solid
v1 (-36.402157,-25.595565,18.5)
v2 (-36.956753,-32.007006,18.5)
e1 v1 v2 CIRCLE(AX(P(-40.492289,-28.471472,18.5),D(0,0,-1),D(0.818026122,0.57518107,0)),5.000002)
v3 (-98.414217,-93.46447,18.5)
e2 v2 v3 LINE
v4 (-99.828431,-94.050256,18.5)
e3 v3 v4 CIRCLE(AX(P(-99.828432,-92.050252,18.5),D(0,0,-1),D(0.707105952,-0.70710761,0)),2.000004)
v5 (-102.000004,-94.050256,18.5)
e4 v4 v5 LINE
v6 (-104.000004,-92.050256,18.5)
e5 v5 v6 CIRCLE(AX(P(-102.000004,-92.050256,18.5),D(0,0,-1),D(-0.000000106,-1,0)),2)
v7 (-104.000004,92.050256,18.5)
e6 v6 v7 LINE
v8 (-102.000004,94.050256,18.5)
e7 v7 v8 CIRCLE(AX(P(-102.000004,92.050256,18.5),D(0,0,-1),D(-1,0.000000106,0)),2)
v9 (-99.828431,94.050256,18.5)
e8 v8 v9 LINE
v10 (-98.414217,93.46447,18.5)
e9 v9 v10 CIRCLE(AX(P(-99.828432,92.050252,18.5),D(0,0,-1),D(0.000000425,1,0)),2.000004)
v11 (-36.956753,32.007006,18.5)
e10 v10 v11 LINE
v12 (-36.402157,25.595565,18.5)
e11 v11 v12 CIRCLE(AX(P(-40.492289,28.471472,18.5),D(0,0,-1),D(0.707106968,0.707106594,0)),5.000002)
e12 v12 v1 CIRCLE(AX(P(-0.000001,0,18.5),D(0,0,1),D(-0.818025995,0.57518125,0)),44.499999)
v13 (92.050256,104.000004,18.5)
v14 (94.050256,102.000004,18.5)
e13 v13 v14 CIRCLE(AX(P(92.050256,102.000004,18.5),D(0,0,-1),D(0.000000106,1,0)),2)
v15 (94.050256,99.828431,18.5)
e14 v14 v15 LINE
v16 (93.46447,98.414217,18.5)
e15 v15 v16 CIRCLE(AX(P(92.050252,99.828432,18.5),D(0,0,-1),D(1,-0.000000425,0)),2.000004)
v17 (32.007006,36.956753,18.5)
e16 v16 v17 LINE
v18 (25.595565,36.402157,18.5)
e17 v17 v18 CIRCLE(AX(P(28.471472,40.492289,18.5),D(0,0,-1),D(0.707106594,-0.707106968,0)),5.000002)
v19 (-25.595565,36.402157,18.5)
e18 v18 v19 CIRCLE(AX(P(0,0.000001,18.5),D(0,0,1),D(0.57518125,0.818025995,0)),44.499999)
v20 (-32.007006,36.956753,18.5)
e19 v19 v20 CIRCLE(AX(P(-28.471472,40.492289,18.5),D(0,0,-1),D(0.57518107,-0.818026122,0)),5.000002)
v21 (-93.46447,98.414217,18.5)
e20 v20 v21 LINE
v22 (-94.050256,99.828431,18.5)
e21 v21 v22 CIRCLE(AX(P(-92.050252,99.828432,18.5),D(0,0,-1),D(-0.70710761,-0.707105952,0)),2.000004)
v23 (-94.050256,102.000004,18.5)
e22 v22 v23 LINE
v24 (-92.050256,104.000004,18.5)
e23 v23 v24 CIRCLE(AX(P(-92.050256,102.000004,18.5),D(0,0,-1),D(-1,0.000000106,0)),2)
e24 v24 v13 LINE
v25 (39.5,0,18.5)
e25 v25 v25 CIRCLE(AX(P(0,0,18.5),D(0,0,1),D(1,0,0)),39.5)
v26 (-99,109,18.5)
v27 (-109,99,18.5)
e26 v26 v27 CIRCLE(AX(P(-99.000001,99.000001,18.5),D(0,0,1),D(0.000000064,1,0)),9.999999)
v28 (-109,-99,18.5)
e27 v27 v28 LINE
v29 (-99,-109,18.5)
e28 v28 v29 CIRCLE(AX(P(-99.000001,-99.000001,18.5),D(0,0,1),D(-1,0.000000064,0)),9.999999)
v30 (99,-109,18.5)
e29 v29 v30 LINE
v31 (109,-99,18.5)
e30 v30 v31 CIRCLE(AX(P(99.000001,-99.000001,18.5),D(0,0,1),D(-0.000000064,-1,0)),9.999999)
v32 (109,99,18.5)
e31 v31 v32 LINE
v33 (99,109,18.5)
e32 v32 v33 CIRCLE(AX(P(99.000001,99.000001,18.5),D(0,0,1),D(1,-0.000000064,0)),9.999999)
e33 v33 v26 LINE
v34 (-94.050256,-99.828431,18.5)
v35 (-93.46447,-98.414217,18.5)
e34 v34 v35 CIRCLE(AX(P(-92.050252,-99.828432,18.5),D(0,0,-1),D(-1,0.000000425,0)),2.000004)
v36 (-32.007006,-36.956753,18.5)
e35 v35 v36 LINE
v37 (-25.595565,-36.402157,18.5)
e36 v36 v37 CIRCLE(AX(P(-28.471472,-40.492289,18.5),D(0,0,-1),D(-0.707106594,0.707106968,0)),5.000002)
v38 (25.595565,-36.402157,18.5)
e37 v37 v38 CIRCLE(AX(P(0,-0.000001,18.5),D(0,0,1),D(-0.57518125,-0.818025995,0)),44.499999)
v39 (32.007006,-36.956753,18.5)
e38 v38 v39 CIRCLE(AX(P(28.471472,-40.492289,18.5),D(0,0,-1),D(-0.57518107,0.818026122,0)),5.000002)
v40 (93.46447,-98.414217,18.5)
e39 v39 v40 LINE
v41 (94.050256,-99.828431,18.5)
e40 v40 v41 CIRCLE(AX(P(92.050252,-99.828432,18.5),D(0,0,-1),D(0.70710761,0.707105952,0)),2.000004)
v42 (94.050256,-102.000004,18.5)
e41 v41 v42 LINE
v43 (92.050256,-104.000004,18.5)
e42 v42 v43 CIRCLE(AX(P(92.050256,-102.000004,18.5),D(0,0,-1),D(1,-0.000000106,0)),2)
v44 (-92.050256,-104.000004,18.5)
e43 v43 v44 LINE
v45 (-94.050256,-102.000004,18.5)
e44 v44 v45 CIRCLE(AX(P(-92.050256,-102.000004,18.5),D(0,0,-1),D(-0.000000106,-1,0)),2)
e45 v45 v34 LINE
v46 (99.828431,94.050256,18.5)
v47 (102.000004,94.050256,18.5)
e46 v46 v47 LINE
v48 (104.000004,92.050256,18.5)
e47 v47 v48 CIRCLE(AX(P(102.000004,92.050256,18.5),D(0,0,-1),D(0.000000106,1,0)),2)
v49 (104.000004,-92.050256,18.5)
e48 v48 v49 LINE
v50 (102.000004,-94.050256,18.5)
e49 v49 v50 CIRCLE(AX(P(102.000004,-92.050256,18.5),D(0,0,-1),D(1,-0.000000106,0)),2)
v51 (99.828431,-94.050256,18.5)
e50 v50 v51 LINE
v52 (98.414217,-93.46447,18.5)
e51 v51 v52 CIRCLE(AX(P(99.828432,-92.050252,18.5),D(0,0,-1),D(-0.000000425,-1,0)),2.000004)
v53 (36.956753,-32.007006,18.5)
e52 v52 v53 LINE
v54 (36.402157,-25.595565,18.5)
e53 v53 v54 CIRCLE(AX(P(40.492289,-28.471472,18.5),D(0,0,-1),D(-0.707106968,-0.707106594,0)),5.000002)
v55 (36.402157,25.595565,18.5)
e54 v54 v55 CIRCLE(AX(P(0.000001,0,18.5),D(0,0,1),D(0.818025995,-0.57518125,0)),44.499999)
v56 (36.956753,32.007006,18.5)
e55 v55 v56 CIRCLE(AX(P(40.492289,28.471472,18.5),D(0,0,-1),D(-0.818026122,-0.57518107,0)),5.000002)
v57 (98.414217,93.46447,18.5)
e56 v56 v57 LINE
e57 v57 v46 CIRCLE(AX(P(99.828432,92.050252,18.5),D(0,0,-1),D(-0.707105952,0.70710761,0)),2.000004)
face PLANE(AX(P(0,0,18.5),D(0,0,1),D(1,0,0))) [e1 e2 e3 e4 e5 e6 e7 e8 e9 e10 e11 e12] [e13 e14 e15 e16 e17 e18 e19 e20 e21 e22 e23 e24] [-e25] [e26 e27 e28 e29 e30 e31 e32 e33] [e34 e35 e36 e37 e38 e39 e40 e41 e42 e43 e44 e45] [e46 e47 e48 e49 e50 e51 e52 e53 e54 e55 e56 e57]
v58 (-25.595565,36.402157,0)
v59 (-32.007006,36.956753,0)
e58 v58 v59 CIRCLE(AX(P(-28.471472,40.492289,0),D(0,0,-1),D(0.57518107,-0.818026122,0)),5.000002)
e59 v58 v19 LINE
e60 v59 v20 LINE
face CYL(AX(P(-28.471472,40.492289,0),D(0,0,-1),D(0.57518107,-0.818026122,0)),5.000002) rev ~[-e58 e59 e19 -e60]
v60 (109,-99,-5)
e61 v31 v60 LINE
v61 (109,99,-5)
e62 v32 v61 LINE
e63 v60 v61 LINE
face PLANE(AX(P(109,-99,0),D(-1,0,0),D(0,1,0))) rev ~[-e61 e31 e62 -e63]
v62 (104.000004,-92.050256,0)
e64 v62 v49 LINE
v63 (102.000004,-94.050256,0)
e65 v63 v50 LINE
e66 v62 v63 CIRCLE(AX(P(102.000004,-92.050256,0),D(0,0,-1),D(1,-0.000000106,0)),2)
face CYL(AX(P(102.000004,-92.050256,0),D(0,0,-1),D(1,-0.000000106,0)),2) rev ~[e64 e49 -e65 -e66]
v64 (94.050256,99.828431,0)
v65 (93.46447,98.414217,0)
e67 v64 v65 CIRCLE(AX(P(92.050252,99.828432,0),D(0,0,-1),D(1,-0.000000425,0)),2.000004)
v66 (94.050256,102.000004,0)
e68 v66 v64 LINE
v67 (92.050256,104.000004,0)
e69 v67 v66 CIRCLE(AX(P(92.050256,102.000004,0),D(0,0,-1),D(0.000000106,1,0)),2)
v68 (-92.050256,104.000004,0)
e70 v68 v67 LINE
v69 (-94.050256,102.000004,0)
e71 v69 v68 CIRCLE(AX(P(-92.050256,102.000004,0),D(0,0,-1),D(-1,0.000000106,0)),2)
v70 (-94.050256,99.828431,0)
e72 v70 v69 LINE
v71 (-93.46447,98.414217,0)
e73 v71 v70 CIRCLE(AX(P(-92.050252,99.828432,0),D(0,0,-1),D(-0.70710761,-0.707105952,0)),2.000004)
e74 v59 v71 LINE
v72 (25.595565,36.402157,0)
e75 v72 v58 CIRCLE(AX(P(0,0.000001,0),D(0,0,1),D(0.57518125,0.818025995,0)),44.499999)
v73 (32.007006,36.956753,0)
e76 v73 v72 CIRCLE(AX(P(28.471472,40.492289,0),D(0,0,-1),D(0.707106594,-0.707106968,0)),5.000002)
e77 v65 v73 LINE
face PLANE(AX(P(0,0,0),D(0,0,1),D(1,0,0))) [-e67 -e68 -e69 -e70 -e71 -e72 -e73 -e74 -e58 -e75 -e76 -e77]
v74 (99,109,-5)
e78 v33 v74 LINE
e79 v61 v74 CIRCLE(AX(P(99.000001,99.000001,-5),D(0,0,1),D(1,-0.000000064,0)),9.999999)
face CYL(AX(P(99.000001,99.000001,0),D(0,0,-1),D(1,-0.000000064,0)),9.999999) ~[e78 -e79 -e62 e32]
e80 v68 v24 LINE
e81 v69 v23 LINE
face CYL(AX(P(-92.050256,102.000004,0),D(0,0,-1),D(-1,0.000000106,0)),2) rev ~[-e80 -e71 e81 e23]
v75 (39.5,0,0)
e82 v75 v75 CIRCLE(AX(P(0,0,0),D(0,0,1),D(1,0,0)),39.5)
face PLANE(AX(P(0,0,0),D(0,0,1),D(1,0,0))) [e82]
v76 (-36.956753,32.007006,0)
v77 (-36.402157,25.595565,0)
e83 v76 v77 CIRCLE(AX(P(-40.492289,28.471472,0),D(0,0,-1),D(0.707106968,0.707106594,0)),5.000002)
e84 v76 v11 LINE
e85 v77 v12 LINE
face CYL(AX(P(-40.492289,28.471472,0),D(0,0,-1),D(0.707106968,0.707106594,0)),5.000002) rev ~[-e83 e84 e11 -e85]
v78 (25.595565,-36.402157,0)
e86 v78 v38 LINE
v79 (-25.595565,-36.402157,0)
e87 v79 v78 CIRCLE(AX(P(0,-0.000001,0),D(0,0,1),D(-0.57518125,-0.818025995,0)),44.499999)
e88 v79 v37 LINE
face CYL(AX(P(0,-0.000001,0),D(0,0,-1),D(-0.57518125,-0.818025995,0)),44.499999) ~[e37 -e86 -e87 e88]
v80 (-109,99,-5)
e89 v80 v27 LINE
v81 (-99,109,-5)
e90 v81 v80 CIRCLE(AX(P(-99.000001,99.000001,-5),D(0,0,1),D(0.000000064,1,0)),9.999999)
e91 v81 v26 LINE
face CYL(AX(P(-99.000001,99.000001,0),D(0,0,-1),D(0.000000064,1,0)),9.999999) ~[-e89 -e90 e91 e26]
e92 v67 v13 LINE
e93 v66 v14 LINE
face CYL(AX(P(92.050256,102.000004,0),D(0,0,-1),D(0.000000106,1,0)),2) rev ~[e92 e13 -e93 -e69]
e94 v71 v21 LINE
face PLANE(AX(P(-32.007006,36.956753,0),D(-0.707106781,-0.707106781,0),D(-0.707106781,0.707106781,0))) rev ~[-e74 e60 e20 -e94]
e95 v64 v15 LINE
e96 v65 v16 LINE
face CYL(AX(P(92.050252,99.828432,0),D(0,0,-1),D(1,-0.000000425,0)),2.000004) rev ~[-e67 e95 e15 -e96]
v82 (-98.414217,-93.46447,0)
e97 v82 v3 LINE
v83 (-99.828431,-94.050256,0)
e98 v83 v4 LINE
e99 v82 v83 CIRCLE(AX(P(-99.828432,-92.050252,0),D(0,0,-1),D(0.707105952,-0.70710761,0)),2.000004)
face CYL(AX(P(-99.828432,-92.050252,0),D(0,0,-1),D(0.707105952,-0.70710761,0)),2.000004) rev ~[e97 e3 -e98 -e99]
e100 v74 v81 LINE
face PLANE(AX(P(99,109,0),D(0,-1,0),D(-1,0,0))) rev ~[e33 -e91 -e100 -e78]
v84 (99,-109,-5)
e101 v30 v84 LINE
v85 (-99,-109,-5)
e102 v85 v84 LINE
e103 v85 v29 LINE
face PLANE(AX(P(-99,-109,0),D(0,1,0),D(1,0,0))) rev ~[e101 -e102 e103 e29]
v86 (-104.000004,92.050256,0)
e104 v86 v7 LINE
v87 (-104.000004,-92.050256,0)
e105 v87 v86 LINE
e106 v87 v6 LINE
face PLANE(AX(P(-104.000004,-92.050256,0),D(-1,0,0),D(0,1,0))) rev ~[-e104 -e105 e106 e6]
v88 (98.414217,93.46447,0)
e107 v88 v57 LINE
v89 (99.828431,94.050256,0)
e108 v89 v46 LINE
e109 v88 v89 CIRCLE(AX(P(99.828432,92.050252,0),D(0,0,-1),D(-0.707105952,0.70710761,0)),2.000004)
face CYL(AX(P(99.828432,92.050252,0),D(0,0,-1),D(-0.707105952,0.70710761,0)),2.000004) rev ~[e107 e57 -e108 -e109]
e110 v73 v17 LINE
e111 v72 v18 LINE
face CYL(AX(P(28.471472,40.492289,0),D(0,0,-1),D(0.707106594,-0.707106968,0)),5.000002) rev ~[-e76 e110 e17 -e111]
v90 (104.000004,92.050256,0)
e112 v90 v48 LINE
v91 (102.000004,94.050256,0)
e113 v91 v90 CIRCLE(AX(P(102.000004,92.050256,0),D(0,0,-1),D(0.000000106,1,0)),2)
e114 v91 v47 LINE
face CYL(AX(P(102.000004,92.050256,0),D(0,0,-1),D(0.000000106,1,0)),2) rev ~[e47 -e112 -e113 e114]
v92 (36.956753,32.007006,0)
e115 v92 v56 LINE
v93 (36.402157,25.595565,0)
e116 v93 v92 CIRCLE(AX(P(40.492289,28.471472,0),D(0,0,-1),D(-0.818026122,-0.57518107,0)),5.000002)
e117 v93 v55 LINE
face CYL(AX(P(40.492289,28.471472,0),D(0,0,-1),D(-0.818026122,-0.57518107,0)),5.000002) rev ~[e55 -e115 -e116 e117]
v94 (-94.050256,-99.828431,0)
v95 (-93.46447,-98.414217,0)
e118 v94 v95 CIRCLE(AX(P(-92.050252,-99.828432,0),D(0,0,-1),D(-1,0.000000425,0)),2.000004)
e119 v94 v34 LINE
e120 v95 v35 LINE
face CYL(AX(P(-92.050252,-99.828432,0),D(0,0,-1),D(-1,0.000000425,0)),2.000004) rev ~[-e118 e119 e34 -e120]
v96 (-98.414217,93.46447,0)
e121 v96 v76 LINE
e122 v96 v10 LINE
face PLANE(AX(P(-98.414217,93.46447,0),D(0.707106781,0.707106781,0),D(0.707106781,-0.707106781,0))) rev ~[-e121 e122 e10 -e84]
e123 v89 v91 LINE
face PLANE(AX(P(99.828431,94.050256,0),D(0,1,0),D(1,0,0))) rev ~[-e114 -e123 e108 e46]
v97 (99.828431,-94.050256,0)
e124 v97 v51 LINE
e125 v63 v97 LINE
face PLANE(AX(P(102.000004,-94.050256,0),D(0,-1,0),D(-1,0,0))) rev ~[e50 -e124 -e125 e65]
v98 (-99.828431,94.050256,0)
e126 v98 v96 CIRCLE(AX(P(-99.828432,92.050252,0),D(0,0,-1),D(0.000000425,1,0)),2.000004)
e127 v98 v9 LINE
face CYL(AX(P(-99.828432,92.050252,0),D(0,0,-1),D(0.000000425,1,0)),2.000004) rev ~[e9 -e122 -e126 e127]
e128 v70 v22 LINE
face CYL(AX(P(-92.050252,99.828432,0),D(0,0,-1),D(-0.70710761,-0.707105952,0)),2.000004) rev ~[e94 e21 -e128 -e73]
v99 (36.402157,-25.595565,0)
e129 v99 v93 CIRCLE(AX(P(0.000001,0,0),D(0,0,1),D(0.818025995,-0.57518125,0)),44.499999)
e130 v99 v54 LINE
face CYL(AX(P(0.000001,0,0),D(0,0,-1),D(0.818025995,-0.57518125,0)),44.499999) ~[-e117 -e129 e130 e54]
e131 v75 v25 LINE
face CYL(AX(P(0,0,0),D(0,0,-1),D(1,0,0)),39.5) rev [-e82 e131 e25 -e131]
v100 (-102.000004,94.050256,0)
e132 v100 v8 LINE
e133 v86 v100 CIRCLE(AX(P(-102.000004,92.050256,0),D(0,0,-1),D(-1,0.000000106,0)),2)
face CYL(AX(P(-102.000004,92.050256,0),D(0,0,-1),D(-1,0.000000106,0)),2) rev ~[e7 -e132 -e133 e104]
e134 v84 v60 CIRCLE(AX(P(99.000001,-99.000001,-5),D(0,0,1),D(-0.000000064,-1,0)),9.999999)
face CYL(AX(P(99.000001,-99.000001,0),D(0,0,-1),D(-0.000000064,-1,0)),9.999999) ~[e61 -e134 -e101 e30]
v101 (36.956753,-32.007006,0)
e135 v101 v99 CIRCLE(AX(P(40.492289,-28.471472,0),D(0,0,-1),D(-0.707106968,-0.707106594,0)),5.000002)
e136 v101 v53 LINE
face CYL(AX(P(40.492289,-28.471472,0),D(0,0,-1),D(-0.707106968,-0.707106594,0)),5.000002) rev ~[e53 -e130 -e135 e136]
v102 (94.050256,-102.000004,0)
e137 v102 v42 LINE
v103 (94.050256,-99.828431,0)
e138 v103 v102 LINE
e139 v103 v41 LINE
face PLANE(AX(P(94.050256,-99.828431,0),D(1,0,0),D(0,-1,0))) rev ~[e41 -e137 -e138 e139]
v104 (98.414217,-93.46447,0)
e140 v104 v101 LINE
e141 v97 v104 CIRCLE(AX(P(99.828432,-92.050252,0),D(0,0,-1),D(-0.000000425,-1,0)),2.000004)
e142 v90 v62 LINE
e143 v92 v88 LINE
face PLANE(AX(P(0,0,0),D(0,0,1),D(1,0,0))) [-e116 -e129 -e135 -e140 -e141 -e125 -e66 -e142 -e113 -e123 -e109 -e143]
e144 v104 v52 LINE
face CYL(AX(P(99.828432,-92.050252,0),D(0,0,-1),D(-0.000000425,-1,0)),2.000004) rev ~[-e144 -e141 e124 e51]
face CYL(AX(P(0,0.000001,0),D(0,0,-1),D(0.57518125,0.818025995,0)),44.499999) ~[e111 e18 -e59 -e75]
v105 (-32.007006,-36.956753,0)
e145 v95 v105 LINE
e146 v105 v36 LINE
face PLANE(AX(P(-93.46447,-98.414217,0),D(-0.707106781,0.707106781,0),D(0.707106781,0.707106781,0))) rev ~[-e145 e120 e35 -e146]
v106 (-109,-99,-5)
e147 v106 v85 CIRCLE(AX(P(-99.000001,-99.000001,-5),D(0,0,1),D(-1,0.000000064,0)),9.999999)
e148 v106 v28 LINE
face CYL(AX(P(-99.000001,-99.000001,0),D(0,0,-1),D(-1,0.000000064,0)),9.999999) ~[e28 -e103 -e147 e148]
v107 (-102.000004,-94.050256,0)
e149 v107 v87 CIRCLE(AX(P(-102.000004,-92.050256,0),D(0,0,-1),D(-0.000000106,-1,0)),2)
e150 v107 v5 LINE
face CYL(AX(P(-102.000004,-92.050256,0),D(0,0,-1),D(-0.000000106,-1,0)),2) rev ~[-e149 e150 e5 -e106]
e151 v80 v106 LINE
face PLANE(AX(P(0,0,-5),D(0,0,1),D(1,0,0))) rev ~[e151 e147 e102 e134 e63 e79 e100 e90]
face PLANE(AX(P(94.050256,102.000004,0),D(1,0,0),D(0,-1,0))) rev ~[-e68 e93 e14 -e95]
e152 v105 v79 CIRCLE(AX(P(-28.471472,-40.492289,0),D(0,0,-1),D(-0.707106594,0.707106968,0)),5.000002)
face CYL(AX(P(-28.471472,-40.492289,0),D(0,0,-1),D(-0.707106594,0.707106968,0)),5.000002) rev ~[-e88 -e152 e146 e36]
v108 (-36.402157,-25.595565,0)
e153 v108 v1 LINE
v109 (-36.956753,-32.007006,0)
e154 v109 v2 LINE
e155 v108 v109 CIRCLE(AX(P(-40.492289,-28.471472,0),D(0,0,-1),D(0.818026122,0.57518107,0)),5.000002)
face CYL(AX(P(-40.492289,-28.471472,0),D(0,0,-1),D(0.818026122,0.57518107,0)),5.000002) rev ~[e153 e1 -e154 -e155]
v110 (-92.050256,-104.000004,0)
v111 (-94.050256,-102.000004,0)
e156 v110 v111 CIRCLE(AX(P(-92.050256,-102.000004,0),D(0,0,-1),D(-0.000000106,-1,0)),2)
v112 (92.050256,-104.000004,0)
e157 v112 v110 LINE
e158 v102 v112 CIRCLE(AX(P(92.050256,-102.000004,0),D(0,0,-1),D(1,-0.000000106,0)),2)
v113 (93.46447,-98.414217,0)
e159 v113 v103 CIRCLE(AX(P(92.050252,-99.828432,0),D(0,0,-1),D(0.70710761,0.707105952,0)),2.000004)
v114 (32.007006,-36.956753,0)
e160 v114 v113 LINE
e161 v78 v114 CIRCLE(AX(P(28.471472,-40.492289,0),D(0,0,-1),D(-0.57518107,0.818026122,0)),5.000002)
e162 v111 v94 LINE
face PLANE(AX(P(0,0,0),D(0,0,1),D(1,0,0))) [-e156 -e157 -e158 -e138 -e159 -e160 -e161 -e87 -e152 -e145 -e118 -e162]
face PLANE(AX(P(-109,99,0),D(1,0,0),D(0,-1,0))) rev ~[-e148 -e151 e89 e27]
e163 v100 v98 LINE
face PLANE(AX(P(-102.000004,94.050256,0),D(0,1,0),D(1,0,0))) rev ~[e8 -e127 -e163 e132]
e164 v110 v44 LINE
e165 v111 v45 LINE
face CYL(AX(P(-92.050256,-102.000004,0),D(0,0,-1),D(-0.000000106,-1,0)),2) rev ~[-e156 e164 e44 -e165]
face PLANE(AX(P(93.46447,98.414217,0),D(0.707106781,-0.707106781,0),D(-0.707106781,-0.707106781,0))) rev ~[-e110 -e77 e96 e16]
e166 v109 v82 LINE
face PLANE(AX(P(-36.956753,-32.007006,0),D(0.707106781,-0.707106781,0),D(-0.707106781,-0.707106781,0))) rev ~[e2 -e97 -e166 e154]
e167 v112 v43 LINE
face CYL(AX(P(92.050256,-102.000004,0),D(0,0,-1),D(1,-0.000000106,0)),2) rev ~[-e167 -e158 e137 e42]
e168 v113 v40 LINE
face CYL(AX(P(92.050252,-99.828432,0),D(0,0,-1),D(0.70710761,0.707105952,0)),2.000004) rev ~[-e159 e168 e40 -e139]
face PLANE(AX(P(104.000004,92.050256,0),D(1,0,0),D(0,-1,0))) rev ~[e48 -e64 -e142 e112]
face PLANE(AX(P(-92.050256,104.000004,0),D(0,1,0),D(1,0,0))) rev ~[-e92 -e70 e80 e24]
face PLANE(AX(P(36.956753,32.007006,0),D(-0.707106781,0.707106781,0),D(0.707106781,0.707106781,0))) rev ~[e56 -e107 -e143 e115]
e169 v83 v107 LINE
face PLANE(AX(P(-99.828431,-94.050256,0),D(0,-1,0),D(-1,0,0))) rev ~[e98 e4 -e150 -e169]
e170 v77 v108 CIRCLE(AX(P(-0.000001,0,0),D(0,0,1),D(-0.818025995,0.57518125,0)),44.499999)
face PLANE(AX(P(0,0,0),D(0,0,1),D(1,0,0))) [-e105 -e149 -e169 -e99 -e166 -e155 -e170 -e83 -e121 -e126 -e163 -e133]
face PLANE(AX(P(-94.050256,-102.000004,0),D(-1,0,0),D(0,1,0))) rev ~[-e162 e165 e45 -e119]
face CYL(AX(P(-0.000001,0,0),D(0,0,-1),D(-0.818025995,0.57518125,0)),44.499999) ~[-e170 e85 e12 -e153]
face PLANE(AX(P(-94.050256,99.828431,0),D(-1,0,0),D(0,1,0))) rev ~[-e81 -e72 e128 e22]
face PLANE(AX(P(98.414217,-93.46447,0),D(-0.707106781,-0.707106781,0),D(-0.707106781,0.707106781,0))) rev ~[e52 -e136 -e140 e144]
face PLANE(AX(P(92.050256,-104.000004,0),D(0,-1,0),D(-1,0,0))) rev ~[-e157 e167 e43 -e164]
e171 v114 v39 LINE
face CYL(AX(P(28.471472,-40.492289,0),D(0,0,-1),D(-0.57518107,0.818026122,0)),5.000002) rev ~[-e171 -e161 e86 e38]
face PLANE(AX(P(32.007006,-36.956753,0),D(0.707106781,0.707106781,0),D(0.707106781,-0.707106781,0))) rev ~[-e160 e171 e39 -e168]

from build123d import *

# Parameters (mm, degrees)
F0_R     = 39.5
F1_DEPTH = 5
F2_DEPTH = 18.5


with BuildPart() as f1:
    # F0 (on Top) → F1 (new body)
    with BuildSketch(Plane.XY):
        with BuildLine():
            Line((99, 109), (-99, 109))
            ThreePointArc((-99, 109), (-106.071068, 106.071068), (-109, 99))
            Line((-109, 99), (-109, -99))
            ThreePointArc((-109, -99), (-106.071068, -106.071068), (-99, -109))
            Line((-99, -109), (99, -109))
            ThreePointArc((99, -109), (106.071068, -106.071068), (109, -99))
            Line((109, -99), (109, 99))
            ThreePointArc((109, 99), (106.071068, 106.071068), (99, 109))
        make_face()
        with BuildLine():
            Line((-60.861436, -104.000004), (-92.050256, -104.000004))
            ThreePointArc((-92.050256, -104.000004), (-93.46447, -103.414217), (-94.050256, -102.000004))
            Line((-94.050256, -102.000004), (-94.050256, -99.828431))
            ThreePointArc((-94.050256, -99.828431), (-93.898015, -99.063064), (-93.46447, -98.414217))
            Line((-93.46447, -98.414217), (-32.007006, -36.956753))
            ThreePointArc((-32.007006, -36.956753), (-28.902368, -35.510889), (-25.595565, -36.402157))
            ThreePointArc((-25.595565, -36.402157), (0, -44.5), (25.595565, -36.402157))
            ThreePointArc((25.595565, -36.402157), (28.902368, -35.510889), (32.007006, -36.956753))
            Line((32.007006, -36.956753), (93.46447, -98.414217))
            ThreePointArc((93.46447, -98.414217), (93.898015, -99.063064), (94.050256, -99.828431))
            Line((94.050256, -99.828431), (94.050256, -102.000004))
            ThreePointArc((94.050256, -102.000004), (93.46447, -103.414217), (92.050256, -104.000004))
            Line((92.050256, -104.000004), (60.861436, -104.000004))
            Line((60.861436, -104.000004), (45.861436, -104.000004))
            Line((45.861436, -104.000004), (-45.861436, -104.000004))
            Line((-45.861436, -104.000004), (-60.861436, -104.000004))
        make_face(mode=Mode.SUBTRACT)
        with BuildLine():
            Line((-104.000004, 60.861436), (-104.000004, 92.050256))
            ThreePointArc((-104.000004, 92.050256), (-103.414217, 93.46447), (-102.000004, 94.050256))
            Line((-102.000004, 94.050256), (-99.828431, 94.050256))
            ThreePointArc((-99.828431, 94.050256), (-99.063064, 93.898015), (-98.414217, 93.46447))
            Line((-98.414217, 93.46447), (-36.956753, 32.007006))
            ThreePointArc((-36.956753, 32.007006), (-35.510889, 28.902368), (-36.402157, 25.595565))
            ThreePointArc((-36.402157, 25.595565), (-44.5, 0), (-36.402157, -25.595565))
            ThreePointArc((-36.402157, -25.595565), (-35.510889, -28.902368), (-36.956753, -32.007006))
            Line((-36.956753, -32.007006), (-98.414217, -93.46447))
            ThreePointArc((-98.414217, -93.46447), (-99.063064, -93.898015), (-99.828431, -94.050256))
            Line((-99.828431, -94.050256), (-102.000004, -94.050256))
            ThreePointArc((-102.000004, -94.050256), (-103.414217, -93.46447), (-104.000004, -92.050256))
            Line((-104.000004, -92.050256), (-104.000004, -60.861436))
            Line((-104.000004, -60.861436), (-104.000004, -45.861436))
            Line((-104.000004, -45.861436), (-104.000004, 45.861436))
            Line((-104.000004, 45.861436), (-104.000004, 60.861436))
        make_face(mode=Mode.SUBTRACT)
        with BuildLine():
            ThreePointArc((-94.050256, 102.000004), (-93.46447, 103.414217), (-92.050256, 104.000004))
            Line((-92.050256, 104.000004), (-60.861436, 104.000004))
            Line((-60.861436, 104.000004), (-45.861436, 104.000004))
            Line((-45.861436, 104.000004), (45.861436, 104.000004))
            Line((45.861436, 104.000004), (60.861436, 104.000004))
            Line((60.861436, 104.000004), (92.050256, 104.000004))
            ThreePointArc((92.050256, 104.000004), (93.46447, 103.414217), (94.050256, 102.000004))
            Line((94.050256, 102.000004), (94.050256, 99.828431))
            ThreePointArc((94.050256, 99.828431), (93.898015, 99.063064), (93.46447, 98.414217))
            Line((93.46447, 98.414217), (32.007006, 36.956753))
            ThreePointArc((32.007006, 36.956753), (28.902368, 35.510889), (25.595565, 36.402157))
            ThreePointArc((25.595565, 36.402157), (0, 44.5), (-25.595565, 36.402157))
            ThreePointArc((-25.595565, 36.402157), (-28.902368, 35.510889), (-32.007006, 36.956753))
            Line((-32.007006, 36.956753), (-93.46447, 98.414217))
            ThreePointArc((-93.46447, 98.414217), (-93.898015, 99.063064), (-94.050256, 99.828431))
            Line((-94.050256, 99.828431), (-94.050256, 102.000004))
        make_face(mode=Mode.SUBTRACT)
        Circle(F0_R, mode=Mode.SUBTRACT)
        with BuildLine():
            ThreePointArc((102.000004, 94.050256), (103.414217, 93.46447), (104.000004, 92.050256))
            Line((104.000004, 92.050256), (104.000004, 60.861436))
            Line((104.000004, 60.861436), (104.000004, 45.861436))
            Line((104.000004, 45.861436), (104.000004, -45.861436))
            Line((104.000004, -45.861436), (104.000004, -60.861436))
            Line((104.000004, -60.861436), (104.000004, -92.050256))
            ThreePointArc((104.000004, -92.050256), (103.414217, -93.46447), (102.000004, -94.050256))
            Line((102.000004, -94.050256), (99.828431, -94.050256))
            ThreePointArc((99.828431, -94.050256), (99.063064, -93.898015), (98.414217, -93.46447))
            Line((98.414217, -93.46447), (36.956753, -32.007006))
            ThreePointArc((36.956753, -32.007006), (35.510889, -28.902368), (36.402157, -25.595565))
            ThreePointArc((36.402157, -25.595565), (44.5, 0), (36.402157, 25.595565))
            ThreePointArc((36.402157, 25.595565), (35.510889, 28.902368), (36.956753, 32.007006))
            Line((36.956753, 32.007006), (98.414217, 93.46447))
            ThreePointArc((98.414217, 93.46447), (99.063064, 93.898015), (99.828431, 94.050256))
            Line((99.828431, 94.050256), (102.000004, 94.050256))
        make_face(mode=Mode.SUBTRACT)
        with BuildLine():
            ThreePointArc((-102.000004, 94.050256), (-103.414217, 93.46447), (-104.000004, 92.050256))
            Line((-104.000004, 92.050256), (-104.000004, 60.861436))
            Line((-104.000004, 60.861436), (-104.000004, 45.861436))
            Line((-104.000004, 45.861436), (-104.000004, -45.861436))
            Line((-104.000004, -45.861436), (-104.000004, -60.861436))
            Line((-104.000004, -60.861436), (-104.000004, -92.050256))
            ThreePointArc((-104.000004, -92.050256), (-103.414217, -93.46447), (-102.000004, -94.050256))
            Line((-102.000004, -94.050256), (-99.828431, -94.050256))
            ThreePointArc((-99.828431, -94.050256), (-99.063064, -93.898015), (-98.414217, -93.46447))
            Line((-98.414217, -93.46447), (-36.956753, -32.007006))
            ThreePointArc((-36.956753, -32.007006), (-35.510889, -28.902368), (-36.402157, -25.595565))
            ThreePointArc((-36.402157, -25.595565), (-44.5, 0), (-36.402157, 25.595565))
            ThreePointArc((-36.402157, 25.595565), (-35.510889, 28.902368), (-36.956753, 32.007006))
            Line((-36.956753, 32.007006), (-98.414217, 93.46447))
            ThreePointArc((-98.414217, 93.46447), (-99.063064, 93.898015), (-99.828431, 94.050256))
            Line((-99.828431, 94.050256), (-102.000004, 94.050256))
        make_face()
        with BuildLine():
            Line((-60.861436, 104.000004), (-92.050256, 104.000004))
            ThreePointArc((-92.050256, 104.000004), (-93.46447, 103.414217), (-94.050256, 102.000004))
            Line((-94.050256, 102.000004), (-94.050256, 99.828431))
            ThreePointArc((-94.050256, 99.828431), (-93.898015, 99.063064), (-93.46447, 98.414217))
            Line((-93.46447, 98.414217), (-32.007006, 36.956753))
            ThreePointArc((-32.007006, 36.956753), (-28.902368, 35.510889), (-25.595565, 36.402157))
            ThreePointArc((-25.595565, 36.402157), (0, 44.5), (25.595565, 36.402157))
            ThreePointArc((25.595565, 36.402157), (28.902368, 35.510889), (32.007006, 36.956753))
            Line((32.007006, 36.956753), (93.46447, 98.414217))
            ThreePointArc((93.46447, 98.414217), (93.898015, 99.063064), (94.050256, 99.828431))
            Line((94.050256, 99.828431), (94.050256, 102.000004))
            ThreePointArc((94.050256, 102.000004), (93.46447, 103.414217), (92.050256, 104.000004))
            Line((92.050256, 104.000004), (60.861436, 104.000004))
            Line((60.861436, 104.000004), (45.861436, 104.000004))
            Line((45.861436, 104.000004), (-45.861436, 104.000004))
            Line((-45.861436, 104.000004), (-60.861436, 104.000004))
        make_face()
        Circle(F0_R)
        with BuildLine():
            Line((104.000004, 60.861436), (104.000004, 92.050256))
            ThreePointArc((104.000004, 92.050256), (103.414217, 93.46447), (102.000004, 94.050256))
            Line((102.000004, 94.050256), (99.828431, 94.050256))
            ThreePointArc((99.828431, 94.050256), (99.063064, 93.898015), (98.414217, 93.46447))
            Line((98.414217, 93.46447), (36.956753, 32.007006))
            ThreePointArc((36.956753, 32.007006), (35.510889, 28.902368), (36.402157, 25.595565))
            ThreePointArc((36.402157, 25.595565), (44.5, 0), (36.402157, -25.595565))
            ThreePointArc((36.402157, -25.595565), (35.510889, -28.902368), (36.956753, -32.007006))
            Line((36.956753, -32.007006), (98.414217, -93.46447))
            ThreePointArc((98.414217, -93.46447), (99.063064, -93.898015), (99.828431, -94.050256))
            Line((99.828431, -94.050256), (102.000004, -94.050256))
            ThreePointArc((102.000004, -94.050256), (103.414217, -93.46447), (104.000004, -92.050256))
            Line((104.000004, -92.050256), (104.000004, -60.861436))
            Line((104.000004, -60.861436), (104.000004, -45.861436))
            Line((104.000004, -45.861436), (104.000004, 45.861436))
            Line((104.000004, 45.861436), (104.000004, 60.861436))
        make_face()
        with BuildLine():
            ThreePointArc((-94.050256, -102.000004), (-93.46447, -103.414217), (-92.050256, -104.000004))
            Line((-92.050256, -104.000004), (-60.861436, -104.000004))
            Line((-60.861436, -104.000004), (-45.861436, -104.000004))
            Line((-45.861436, -104.000004), (45.861436, -104.000004))
            Line((45.861436, -104.000004), (60.861436, -104.000004))
            Line((60.861436, -104.000004), (92.050256, -104.000004))
            ThreePointArc((92.050256, -104.000004), (93.46447, -103.414217), (94.050256, -102.000004))
            Line((94.050256, -102.000004), (94.050256, -99.828431))
            ThreePointArc((94.050256, -99.828431), (93.898015, -99.063064), (93.46447, -98.414217))
            Line((93.46447, -98.414217), (32.007006, -36.956753))
            ThreePointArc((32.007006, -36.956753), (28.902368, -35.510889), (25.595565, -36.402157))
            ThreePointArc((25.595565, -36.402157), (0, -44.5), (-25.595565, -36.402157))
            ThreePointArc((-25.595565, -36.402157), (-28.902368, -35.510889), (-32.007006, -36.956753))
            Line((-32.007006, -36.956753), (-93.46447, -98.414217))
            ThreePointArc((-93.46447, -98.414217), (-93.898015, -99.063064), (-94.050256, -99.828431))
            Line((-94.050256, -99.828431), (-94.050256, -102.000004))
        make_face()
    extrude(amount=-F1_DEPTH)

    # F0 (on Top) → F2 (join)
    with BuildSketch(Plane.XY):
        with BuildLine():
            Line((99, 109), (-99, 109))
            ThreePointArc((-99, 109), (-106.071068, 106.071068), (-109, 99))
            Line((-109, 99), (-109, -99))
            ThreePointArc((-109, -99), (-106.071068, -106.071068), (-99, -109))
            Line((-99, -109), (99, -109))
            ThreePointArc((99, -109), (106.071068, -106.071068), (109, -99))
            Line((109, -99), (109, 99))
            ThreePointArc((109, 99), (106.071068, 106.071068), (99, 109))
        make_face()
        with BuildLine():
            Line((-60.861436, -104.000004), (-92.050256, -104.000004))
            ThreePointArc((-92.050256, -104.000004), (-93.46447, -103.414217), (-94.050256, -102.000004))
            Line((-94.050256, -102.000004), (-94.050256, -99.828431))
            ThreePointArc((-94.050256, -99.828431), (-93.898015, -99.063064), (-93.46447, -98.414217))
            Line((-93.46447, -98.414217), (-32.007006, -36.956753))
            ThreePointArc((-32.007006, -36.956753), (-28.902368, -35.510889), (-25.595565, -36.402157))
            ThreePointArc((-25.595565, -36.402157), (0, -44.5), (25.595565, -36.402157))
            ThreePointArc((25.595565, -36.402157), (28.902368, -35.510889), (32.007006, -36.956753))
            Line((32.007006, -36.956753), (93.46447, -98.414217))
            ThreePointArc((93.46447, -98.414217), (93.898015, -99.063064), (94.050256, -99.828431))
            Line((94.050256, -99.828431), (94.050256, -102.000004))
            ThreePointArc((94.050256, -102.000004), (93.46447, -103.414217), (92.050256, -104.000004))
            Line((92.050256, -104.000004), (60.861436, -104.000004))
            Line((60.861436, -104.000004), (45.861436, -104.000004))
            Line((45.861436, -104.000004), (-45.861436, -104.000004))
            Line((-45.861436, -104.000004), (-60.861436, -104.000004))
        make_face(mode=Mode.SUBTRACT)
        with BuildLine():
            Line((-104.000004, 60.861436), (-104.000004, 92.050256))
            ThreePointArc((-104.000004, 92.050256), (-103.414217, 93.46447), (-102.000004, 94.050256))
            Line((-102.000004, 94.050256), (-99.828431, 94.050256))
            ThreePointArc((-99.828431, 94.050256), (-99.063064, 93.898015), (-98.414217, 93.46447))
            Line((-98.414217, 93.46447), (-36.956753, 32.007006))
            ThreePointArc((-36.956753, 32.007006), (-35.510889, 28.902368), (-36.402157, 25.595565))
            ThreePointArc((-36.402157, 25.595565), (-44.5, 0), (-36.402157, -25.595565))
            ThreePointArc((-36.402157, -25.595565), (-35.510889, -28.902368), (-36.956753, -32.007006))
            Line((-36.956753, -32.007006), (-98.414217, -93.46447))
            ThreePointArc((-98.414217, -93.46447), (-99.063064, -93.898015), (-99.828431, -94.050256))
            Line((-99.828431, -94.050256), (-102.000004, -94.050256))
            ThreePointArc((-102.000004, -94.050256), (-103.414217, -93.46447), (-104.000004, -92.050256))
            Line((-104.000004, -92.050256), (-104.000004, -60.861436))
            Line((-104.000004, -60.861436), (-104.000004, -45.861436))
            Line((-104.000004, -45.861436), (-104.000004, 45.861436))
            Line((-104.000004, 45.861436), (-104.000004, 60.861436))
        make_face(mode=Mode.SUBTRACT)
        with BuildLine():
            ThreePointArc((-94.050256, 102.000004), (-93.46447, 103.414217), (-92.050256, 104.000004))
            Line((-92.050256, 104.000004), (-60.861436, 104.000004))
            Line((-60.861436, 104.000004), (-45.861436, 104.000004))
            Line((-45.861436, 104.000004), (45.861436, 104.000004))
            Line((45.861436, 104.000004), (60.861436, 104.000004))
            Line((60.861436, 104.000004), (92.050256, 104.000004))
            ThreePointArc((92.050256, 104.000004), (93.46447, 103.414217), (94.050256, 102.000004))
            Line((94.050256, 102.000004), (94.050256, 99.828431))
            ThreePointArc((94.050256, 99.828431), (93.898015, 99.063064), (93.46447, 98.414217))
            Line((93.46447, 98.414217), (32.007006, 36.956753))
            ThreePointArc((32.007006, 36.956753), (28.902368, 35.510889), (25.595565, 36.402157))
            ThreePointArc((25.595565, 36.402157), (0, 44.5), (-25.595565, 36.402157))
            ThreePointArc((-25.595565, 36.402157), (-28.902368, 35.510889), (-32.007006, 36.956753))
            Line((-32.007006, 36.956753), (-93.46447, 98.414217))
            ThreePointArc((-93.46447, 98.414217), (-93.898015, 99.063064), (-94.050256, 99.828431))
            Line((-94.050256, 99.828431), (-94.050256, 102.000004))
        make_face(mode=Mode.SUBTRACT)
        Circle(F0_R, mode=Mode.SUBTRACT)
        with BuildLine():
            ThreePointArc((102.000004, 94.050256), (103.414217, 93.46447), (104.000004, 92.050256))
            Line((104.000004, 92.050256), (104.000004, 60.861436))
            Line((104.000004, 60.861436), (104.000004, 45.861436))
            Line((104.000004, 45.861436), (104.000004, -45.861436))
            Line((104.000004, -45.861436), (104.000004, -60.861436))
            Line((104.000004, -60.861436), (104.000004, -92.050256))
            ThreePointArc((104.000004, -92.050256), (103.414217, -93.46447), (102.000004, -94.050256))
            Line((102.000004, -94.050256), (99.828431, -94.050256))
            ThreePointArc((99.828431, -94.050256), (99.063064, -93.898015), (98.414217, -93.46447))
            Line((98.414217, -93.46447), (36.956753, -32.007006))
            ThreePointArc((36.956753, -32.007006), (35.510889, -28.902368), (36.402157, -25.595565))
            ThreePointArc((36.402157, -25.595565), (44.5, 0), (36.402157, 25.595565))
            ThreePointArc((36.402157, 25.595565), (35.510889, 28.902368), (36.956753, 32.007006))
            Line((36.956753, 32.007006), (98.414217, 93.46447))
            ThreePointArc((98.414217, 93.46447), (99.063064, 93.898015), (99.828431, 94.050256))
            Line((99.828431, 94.050256), (102.000004, 94.050256))
        make_face(mode=Mode.SUBTRACT)
    extrude(amount=F2_DEPTH)


solid = f1.part
